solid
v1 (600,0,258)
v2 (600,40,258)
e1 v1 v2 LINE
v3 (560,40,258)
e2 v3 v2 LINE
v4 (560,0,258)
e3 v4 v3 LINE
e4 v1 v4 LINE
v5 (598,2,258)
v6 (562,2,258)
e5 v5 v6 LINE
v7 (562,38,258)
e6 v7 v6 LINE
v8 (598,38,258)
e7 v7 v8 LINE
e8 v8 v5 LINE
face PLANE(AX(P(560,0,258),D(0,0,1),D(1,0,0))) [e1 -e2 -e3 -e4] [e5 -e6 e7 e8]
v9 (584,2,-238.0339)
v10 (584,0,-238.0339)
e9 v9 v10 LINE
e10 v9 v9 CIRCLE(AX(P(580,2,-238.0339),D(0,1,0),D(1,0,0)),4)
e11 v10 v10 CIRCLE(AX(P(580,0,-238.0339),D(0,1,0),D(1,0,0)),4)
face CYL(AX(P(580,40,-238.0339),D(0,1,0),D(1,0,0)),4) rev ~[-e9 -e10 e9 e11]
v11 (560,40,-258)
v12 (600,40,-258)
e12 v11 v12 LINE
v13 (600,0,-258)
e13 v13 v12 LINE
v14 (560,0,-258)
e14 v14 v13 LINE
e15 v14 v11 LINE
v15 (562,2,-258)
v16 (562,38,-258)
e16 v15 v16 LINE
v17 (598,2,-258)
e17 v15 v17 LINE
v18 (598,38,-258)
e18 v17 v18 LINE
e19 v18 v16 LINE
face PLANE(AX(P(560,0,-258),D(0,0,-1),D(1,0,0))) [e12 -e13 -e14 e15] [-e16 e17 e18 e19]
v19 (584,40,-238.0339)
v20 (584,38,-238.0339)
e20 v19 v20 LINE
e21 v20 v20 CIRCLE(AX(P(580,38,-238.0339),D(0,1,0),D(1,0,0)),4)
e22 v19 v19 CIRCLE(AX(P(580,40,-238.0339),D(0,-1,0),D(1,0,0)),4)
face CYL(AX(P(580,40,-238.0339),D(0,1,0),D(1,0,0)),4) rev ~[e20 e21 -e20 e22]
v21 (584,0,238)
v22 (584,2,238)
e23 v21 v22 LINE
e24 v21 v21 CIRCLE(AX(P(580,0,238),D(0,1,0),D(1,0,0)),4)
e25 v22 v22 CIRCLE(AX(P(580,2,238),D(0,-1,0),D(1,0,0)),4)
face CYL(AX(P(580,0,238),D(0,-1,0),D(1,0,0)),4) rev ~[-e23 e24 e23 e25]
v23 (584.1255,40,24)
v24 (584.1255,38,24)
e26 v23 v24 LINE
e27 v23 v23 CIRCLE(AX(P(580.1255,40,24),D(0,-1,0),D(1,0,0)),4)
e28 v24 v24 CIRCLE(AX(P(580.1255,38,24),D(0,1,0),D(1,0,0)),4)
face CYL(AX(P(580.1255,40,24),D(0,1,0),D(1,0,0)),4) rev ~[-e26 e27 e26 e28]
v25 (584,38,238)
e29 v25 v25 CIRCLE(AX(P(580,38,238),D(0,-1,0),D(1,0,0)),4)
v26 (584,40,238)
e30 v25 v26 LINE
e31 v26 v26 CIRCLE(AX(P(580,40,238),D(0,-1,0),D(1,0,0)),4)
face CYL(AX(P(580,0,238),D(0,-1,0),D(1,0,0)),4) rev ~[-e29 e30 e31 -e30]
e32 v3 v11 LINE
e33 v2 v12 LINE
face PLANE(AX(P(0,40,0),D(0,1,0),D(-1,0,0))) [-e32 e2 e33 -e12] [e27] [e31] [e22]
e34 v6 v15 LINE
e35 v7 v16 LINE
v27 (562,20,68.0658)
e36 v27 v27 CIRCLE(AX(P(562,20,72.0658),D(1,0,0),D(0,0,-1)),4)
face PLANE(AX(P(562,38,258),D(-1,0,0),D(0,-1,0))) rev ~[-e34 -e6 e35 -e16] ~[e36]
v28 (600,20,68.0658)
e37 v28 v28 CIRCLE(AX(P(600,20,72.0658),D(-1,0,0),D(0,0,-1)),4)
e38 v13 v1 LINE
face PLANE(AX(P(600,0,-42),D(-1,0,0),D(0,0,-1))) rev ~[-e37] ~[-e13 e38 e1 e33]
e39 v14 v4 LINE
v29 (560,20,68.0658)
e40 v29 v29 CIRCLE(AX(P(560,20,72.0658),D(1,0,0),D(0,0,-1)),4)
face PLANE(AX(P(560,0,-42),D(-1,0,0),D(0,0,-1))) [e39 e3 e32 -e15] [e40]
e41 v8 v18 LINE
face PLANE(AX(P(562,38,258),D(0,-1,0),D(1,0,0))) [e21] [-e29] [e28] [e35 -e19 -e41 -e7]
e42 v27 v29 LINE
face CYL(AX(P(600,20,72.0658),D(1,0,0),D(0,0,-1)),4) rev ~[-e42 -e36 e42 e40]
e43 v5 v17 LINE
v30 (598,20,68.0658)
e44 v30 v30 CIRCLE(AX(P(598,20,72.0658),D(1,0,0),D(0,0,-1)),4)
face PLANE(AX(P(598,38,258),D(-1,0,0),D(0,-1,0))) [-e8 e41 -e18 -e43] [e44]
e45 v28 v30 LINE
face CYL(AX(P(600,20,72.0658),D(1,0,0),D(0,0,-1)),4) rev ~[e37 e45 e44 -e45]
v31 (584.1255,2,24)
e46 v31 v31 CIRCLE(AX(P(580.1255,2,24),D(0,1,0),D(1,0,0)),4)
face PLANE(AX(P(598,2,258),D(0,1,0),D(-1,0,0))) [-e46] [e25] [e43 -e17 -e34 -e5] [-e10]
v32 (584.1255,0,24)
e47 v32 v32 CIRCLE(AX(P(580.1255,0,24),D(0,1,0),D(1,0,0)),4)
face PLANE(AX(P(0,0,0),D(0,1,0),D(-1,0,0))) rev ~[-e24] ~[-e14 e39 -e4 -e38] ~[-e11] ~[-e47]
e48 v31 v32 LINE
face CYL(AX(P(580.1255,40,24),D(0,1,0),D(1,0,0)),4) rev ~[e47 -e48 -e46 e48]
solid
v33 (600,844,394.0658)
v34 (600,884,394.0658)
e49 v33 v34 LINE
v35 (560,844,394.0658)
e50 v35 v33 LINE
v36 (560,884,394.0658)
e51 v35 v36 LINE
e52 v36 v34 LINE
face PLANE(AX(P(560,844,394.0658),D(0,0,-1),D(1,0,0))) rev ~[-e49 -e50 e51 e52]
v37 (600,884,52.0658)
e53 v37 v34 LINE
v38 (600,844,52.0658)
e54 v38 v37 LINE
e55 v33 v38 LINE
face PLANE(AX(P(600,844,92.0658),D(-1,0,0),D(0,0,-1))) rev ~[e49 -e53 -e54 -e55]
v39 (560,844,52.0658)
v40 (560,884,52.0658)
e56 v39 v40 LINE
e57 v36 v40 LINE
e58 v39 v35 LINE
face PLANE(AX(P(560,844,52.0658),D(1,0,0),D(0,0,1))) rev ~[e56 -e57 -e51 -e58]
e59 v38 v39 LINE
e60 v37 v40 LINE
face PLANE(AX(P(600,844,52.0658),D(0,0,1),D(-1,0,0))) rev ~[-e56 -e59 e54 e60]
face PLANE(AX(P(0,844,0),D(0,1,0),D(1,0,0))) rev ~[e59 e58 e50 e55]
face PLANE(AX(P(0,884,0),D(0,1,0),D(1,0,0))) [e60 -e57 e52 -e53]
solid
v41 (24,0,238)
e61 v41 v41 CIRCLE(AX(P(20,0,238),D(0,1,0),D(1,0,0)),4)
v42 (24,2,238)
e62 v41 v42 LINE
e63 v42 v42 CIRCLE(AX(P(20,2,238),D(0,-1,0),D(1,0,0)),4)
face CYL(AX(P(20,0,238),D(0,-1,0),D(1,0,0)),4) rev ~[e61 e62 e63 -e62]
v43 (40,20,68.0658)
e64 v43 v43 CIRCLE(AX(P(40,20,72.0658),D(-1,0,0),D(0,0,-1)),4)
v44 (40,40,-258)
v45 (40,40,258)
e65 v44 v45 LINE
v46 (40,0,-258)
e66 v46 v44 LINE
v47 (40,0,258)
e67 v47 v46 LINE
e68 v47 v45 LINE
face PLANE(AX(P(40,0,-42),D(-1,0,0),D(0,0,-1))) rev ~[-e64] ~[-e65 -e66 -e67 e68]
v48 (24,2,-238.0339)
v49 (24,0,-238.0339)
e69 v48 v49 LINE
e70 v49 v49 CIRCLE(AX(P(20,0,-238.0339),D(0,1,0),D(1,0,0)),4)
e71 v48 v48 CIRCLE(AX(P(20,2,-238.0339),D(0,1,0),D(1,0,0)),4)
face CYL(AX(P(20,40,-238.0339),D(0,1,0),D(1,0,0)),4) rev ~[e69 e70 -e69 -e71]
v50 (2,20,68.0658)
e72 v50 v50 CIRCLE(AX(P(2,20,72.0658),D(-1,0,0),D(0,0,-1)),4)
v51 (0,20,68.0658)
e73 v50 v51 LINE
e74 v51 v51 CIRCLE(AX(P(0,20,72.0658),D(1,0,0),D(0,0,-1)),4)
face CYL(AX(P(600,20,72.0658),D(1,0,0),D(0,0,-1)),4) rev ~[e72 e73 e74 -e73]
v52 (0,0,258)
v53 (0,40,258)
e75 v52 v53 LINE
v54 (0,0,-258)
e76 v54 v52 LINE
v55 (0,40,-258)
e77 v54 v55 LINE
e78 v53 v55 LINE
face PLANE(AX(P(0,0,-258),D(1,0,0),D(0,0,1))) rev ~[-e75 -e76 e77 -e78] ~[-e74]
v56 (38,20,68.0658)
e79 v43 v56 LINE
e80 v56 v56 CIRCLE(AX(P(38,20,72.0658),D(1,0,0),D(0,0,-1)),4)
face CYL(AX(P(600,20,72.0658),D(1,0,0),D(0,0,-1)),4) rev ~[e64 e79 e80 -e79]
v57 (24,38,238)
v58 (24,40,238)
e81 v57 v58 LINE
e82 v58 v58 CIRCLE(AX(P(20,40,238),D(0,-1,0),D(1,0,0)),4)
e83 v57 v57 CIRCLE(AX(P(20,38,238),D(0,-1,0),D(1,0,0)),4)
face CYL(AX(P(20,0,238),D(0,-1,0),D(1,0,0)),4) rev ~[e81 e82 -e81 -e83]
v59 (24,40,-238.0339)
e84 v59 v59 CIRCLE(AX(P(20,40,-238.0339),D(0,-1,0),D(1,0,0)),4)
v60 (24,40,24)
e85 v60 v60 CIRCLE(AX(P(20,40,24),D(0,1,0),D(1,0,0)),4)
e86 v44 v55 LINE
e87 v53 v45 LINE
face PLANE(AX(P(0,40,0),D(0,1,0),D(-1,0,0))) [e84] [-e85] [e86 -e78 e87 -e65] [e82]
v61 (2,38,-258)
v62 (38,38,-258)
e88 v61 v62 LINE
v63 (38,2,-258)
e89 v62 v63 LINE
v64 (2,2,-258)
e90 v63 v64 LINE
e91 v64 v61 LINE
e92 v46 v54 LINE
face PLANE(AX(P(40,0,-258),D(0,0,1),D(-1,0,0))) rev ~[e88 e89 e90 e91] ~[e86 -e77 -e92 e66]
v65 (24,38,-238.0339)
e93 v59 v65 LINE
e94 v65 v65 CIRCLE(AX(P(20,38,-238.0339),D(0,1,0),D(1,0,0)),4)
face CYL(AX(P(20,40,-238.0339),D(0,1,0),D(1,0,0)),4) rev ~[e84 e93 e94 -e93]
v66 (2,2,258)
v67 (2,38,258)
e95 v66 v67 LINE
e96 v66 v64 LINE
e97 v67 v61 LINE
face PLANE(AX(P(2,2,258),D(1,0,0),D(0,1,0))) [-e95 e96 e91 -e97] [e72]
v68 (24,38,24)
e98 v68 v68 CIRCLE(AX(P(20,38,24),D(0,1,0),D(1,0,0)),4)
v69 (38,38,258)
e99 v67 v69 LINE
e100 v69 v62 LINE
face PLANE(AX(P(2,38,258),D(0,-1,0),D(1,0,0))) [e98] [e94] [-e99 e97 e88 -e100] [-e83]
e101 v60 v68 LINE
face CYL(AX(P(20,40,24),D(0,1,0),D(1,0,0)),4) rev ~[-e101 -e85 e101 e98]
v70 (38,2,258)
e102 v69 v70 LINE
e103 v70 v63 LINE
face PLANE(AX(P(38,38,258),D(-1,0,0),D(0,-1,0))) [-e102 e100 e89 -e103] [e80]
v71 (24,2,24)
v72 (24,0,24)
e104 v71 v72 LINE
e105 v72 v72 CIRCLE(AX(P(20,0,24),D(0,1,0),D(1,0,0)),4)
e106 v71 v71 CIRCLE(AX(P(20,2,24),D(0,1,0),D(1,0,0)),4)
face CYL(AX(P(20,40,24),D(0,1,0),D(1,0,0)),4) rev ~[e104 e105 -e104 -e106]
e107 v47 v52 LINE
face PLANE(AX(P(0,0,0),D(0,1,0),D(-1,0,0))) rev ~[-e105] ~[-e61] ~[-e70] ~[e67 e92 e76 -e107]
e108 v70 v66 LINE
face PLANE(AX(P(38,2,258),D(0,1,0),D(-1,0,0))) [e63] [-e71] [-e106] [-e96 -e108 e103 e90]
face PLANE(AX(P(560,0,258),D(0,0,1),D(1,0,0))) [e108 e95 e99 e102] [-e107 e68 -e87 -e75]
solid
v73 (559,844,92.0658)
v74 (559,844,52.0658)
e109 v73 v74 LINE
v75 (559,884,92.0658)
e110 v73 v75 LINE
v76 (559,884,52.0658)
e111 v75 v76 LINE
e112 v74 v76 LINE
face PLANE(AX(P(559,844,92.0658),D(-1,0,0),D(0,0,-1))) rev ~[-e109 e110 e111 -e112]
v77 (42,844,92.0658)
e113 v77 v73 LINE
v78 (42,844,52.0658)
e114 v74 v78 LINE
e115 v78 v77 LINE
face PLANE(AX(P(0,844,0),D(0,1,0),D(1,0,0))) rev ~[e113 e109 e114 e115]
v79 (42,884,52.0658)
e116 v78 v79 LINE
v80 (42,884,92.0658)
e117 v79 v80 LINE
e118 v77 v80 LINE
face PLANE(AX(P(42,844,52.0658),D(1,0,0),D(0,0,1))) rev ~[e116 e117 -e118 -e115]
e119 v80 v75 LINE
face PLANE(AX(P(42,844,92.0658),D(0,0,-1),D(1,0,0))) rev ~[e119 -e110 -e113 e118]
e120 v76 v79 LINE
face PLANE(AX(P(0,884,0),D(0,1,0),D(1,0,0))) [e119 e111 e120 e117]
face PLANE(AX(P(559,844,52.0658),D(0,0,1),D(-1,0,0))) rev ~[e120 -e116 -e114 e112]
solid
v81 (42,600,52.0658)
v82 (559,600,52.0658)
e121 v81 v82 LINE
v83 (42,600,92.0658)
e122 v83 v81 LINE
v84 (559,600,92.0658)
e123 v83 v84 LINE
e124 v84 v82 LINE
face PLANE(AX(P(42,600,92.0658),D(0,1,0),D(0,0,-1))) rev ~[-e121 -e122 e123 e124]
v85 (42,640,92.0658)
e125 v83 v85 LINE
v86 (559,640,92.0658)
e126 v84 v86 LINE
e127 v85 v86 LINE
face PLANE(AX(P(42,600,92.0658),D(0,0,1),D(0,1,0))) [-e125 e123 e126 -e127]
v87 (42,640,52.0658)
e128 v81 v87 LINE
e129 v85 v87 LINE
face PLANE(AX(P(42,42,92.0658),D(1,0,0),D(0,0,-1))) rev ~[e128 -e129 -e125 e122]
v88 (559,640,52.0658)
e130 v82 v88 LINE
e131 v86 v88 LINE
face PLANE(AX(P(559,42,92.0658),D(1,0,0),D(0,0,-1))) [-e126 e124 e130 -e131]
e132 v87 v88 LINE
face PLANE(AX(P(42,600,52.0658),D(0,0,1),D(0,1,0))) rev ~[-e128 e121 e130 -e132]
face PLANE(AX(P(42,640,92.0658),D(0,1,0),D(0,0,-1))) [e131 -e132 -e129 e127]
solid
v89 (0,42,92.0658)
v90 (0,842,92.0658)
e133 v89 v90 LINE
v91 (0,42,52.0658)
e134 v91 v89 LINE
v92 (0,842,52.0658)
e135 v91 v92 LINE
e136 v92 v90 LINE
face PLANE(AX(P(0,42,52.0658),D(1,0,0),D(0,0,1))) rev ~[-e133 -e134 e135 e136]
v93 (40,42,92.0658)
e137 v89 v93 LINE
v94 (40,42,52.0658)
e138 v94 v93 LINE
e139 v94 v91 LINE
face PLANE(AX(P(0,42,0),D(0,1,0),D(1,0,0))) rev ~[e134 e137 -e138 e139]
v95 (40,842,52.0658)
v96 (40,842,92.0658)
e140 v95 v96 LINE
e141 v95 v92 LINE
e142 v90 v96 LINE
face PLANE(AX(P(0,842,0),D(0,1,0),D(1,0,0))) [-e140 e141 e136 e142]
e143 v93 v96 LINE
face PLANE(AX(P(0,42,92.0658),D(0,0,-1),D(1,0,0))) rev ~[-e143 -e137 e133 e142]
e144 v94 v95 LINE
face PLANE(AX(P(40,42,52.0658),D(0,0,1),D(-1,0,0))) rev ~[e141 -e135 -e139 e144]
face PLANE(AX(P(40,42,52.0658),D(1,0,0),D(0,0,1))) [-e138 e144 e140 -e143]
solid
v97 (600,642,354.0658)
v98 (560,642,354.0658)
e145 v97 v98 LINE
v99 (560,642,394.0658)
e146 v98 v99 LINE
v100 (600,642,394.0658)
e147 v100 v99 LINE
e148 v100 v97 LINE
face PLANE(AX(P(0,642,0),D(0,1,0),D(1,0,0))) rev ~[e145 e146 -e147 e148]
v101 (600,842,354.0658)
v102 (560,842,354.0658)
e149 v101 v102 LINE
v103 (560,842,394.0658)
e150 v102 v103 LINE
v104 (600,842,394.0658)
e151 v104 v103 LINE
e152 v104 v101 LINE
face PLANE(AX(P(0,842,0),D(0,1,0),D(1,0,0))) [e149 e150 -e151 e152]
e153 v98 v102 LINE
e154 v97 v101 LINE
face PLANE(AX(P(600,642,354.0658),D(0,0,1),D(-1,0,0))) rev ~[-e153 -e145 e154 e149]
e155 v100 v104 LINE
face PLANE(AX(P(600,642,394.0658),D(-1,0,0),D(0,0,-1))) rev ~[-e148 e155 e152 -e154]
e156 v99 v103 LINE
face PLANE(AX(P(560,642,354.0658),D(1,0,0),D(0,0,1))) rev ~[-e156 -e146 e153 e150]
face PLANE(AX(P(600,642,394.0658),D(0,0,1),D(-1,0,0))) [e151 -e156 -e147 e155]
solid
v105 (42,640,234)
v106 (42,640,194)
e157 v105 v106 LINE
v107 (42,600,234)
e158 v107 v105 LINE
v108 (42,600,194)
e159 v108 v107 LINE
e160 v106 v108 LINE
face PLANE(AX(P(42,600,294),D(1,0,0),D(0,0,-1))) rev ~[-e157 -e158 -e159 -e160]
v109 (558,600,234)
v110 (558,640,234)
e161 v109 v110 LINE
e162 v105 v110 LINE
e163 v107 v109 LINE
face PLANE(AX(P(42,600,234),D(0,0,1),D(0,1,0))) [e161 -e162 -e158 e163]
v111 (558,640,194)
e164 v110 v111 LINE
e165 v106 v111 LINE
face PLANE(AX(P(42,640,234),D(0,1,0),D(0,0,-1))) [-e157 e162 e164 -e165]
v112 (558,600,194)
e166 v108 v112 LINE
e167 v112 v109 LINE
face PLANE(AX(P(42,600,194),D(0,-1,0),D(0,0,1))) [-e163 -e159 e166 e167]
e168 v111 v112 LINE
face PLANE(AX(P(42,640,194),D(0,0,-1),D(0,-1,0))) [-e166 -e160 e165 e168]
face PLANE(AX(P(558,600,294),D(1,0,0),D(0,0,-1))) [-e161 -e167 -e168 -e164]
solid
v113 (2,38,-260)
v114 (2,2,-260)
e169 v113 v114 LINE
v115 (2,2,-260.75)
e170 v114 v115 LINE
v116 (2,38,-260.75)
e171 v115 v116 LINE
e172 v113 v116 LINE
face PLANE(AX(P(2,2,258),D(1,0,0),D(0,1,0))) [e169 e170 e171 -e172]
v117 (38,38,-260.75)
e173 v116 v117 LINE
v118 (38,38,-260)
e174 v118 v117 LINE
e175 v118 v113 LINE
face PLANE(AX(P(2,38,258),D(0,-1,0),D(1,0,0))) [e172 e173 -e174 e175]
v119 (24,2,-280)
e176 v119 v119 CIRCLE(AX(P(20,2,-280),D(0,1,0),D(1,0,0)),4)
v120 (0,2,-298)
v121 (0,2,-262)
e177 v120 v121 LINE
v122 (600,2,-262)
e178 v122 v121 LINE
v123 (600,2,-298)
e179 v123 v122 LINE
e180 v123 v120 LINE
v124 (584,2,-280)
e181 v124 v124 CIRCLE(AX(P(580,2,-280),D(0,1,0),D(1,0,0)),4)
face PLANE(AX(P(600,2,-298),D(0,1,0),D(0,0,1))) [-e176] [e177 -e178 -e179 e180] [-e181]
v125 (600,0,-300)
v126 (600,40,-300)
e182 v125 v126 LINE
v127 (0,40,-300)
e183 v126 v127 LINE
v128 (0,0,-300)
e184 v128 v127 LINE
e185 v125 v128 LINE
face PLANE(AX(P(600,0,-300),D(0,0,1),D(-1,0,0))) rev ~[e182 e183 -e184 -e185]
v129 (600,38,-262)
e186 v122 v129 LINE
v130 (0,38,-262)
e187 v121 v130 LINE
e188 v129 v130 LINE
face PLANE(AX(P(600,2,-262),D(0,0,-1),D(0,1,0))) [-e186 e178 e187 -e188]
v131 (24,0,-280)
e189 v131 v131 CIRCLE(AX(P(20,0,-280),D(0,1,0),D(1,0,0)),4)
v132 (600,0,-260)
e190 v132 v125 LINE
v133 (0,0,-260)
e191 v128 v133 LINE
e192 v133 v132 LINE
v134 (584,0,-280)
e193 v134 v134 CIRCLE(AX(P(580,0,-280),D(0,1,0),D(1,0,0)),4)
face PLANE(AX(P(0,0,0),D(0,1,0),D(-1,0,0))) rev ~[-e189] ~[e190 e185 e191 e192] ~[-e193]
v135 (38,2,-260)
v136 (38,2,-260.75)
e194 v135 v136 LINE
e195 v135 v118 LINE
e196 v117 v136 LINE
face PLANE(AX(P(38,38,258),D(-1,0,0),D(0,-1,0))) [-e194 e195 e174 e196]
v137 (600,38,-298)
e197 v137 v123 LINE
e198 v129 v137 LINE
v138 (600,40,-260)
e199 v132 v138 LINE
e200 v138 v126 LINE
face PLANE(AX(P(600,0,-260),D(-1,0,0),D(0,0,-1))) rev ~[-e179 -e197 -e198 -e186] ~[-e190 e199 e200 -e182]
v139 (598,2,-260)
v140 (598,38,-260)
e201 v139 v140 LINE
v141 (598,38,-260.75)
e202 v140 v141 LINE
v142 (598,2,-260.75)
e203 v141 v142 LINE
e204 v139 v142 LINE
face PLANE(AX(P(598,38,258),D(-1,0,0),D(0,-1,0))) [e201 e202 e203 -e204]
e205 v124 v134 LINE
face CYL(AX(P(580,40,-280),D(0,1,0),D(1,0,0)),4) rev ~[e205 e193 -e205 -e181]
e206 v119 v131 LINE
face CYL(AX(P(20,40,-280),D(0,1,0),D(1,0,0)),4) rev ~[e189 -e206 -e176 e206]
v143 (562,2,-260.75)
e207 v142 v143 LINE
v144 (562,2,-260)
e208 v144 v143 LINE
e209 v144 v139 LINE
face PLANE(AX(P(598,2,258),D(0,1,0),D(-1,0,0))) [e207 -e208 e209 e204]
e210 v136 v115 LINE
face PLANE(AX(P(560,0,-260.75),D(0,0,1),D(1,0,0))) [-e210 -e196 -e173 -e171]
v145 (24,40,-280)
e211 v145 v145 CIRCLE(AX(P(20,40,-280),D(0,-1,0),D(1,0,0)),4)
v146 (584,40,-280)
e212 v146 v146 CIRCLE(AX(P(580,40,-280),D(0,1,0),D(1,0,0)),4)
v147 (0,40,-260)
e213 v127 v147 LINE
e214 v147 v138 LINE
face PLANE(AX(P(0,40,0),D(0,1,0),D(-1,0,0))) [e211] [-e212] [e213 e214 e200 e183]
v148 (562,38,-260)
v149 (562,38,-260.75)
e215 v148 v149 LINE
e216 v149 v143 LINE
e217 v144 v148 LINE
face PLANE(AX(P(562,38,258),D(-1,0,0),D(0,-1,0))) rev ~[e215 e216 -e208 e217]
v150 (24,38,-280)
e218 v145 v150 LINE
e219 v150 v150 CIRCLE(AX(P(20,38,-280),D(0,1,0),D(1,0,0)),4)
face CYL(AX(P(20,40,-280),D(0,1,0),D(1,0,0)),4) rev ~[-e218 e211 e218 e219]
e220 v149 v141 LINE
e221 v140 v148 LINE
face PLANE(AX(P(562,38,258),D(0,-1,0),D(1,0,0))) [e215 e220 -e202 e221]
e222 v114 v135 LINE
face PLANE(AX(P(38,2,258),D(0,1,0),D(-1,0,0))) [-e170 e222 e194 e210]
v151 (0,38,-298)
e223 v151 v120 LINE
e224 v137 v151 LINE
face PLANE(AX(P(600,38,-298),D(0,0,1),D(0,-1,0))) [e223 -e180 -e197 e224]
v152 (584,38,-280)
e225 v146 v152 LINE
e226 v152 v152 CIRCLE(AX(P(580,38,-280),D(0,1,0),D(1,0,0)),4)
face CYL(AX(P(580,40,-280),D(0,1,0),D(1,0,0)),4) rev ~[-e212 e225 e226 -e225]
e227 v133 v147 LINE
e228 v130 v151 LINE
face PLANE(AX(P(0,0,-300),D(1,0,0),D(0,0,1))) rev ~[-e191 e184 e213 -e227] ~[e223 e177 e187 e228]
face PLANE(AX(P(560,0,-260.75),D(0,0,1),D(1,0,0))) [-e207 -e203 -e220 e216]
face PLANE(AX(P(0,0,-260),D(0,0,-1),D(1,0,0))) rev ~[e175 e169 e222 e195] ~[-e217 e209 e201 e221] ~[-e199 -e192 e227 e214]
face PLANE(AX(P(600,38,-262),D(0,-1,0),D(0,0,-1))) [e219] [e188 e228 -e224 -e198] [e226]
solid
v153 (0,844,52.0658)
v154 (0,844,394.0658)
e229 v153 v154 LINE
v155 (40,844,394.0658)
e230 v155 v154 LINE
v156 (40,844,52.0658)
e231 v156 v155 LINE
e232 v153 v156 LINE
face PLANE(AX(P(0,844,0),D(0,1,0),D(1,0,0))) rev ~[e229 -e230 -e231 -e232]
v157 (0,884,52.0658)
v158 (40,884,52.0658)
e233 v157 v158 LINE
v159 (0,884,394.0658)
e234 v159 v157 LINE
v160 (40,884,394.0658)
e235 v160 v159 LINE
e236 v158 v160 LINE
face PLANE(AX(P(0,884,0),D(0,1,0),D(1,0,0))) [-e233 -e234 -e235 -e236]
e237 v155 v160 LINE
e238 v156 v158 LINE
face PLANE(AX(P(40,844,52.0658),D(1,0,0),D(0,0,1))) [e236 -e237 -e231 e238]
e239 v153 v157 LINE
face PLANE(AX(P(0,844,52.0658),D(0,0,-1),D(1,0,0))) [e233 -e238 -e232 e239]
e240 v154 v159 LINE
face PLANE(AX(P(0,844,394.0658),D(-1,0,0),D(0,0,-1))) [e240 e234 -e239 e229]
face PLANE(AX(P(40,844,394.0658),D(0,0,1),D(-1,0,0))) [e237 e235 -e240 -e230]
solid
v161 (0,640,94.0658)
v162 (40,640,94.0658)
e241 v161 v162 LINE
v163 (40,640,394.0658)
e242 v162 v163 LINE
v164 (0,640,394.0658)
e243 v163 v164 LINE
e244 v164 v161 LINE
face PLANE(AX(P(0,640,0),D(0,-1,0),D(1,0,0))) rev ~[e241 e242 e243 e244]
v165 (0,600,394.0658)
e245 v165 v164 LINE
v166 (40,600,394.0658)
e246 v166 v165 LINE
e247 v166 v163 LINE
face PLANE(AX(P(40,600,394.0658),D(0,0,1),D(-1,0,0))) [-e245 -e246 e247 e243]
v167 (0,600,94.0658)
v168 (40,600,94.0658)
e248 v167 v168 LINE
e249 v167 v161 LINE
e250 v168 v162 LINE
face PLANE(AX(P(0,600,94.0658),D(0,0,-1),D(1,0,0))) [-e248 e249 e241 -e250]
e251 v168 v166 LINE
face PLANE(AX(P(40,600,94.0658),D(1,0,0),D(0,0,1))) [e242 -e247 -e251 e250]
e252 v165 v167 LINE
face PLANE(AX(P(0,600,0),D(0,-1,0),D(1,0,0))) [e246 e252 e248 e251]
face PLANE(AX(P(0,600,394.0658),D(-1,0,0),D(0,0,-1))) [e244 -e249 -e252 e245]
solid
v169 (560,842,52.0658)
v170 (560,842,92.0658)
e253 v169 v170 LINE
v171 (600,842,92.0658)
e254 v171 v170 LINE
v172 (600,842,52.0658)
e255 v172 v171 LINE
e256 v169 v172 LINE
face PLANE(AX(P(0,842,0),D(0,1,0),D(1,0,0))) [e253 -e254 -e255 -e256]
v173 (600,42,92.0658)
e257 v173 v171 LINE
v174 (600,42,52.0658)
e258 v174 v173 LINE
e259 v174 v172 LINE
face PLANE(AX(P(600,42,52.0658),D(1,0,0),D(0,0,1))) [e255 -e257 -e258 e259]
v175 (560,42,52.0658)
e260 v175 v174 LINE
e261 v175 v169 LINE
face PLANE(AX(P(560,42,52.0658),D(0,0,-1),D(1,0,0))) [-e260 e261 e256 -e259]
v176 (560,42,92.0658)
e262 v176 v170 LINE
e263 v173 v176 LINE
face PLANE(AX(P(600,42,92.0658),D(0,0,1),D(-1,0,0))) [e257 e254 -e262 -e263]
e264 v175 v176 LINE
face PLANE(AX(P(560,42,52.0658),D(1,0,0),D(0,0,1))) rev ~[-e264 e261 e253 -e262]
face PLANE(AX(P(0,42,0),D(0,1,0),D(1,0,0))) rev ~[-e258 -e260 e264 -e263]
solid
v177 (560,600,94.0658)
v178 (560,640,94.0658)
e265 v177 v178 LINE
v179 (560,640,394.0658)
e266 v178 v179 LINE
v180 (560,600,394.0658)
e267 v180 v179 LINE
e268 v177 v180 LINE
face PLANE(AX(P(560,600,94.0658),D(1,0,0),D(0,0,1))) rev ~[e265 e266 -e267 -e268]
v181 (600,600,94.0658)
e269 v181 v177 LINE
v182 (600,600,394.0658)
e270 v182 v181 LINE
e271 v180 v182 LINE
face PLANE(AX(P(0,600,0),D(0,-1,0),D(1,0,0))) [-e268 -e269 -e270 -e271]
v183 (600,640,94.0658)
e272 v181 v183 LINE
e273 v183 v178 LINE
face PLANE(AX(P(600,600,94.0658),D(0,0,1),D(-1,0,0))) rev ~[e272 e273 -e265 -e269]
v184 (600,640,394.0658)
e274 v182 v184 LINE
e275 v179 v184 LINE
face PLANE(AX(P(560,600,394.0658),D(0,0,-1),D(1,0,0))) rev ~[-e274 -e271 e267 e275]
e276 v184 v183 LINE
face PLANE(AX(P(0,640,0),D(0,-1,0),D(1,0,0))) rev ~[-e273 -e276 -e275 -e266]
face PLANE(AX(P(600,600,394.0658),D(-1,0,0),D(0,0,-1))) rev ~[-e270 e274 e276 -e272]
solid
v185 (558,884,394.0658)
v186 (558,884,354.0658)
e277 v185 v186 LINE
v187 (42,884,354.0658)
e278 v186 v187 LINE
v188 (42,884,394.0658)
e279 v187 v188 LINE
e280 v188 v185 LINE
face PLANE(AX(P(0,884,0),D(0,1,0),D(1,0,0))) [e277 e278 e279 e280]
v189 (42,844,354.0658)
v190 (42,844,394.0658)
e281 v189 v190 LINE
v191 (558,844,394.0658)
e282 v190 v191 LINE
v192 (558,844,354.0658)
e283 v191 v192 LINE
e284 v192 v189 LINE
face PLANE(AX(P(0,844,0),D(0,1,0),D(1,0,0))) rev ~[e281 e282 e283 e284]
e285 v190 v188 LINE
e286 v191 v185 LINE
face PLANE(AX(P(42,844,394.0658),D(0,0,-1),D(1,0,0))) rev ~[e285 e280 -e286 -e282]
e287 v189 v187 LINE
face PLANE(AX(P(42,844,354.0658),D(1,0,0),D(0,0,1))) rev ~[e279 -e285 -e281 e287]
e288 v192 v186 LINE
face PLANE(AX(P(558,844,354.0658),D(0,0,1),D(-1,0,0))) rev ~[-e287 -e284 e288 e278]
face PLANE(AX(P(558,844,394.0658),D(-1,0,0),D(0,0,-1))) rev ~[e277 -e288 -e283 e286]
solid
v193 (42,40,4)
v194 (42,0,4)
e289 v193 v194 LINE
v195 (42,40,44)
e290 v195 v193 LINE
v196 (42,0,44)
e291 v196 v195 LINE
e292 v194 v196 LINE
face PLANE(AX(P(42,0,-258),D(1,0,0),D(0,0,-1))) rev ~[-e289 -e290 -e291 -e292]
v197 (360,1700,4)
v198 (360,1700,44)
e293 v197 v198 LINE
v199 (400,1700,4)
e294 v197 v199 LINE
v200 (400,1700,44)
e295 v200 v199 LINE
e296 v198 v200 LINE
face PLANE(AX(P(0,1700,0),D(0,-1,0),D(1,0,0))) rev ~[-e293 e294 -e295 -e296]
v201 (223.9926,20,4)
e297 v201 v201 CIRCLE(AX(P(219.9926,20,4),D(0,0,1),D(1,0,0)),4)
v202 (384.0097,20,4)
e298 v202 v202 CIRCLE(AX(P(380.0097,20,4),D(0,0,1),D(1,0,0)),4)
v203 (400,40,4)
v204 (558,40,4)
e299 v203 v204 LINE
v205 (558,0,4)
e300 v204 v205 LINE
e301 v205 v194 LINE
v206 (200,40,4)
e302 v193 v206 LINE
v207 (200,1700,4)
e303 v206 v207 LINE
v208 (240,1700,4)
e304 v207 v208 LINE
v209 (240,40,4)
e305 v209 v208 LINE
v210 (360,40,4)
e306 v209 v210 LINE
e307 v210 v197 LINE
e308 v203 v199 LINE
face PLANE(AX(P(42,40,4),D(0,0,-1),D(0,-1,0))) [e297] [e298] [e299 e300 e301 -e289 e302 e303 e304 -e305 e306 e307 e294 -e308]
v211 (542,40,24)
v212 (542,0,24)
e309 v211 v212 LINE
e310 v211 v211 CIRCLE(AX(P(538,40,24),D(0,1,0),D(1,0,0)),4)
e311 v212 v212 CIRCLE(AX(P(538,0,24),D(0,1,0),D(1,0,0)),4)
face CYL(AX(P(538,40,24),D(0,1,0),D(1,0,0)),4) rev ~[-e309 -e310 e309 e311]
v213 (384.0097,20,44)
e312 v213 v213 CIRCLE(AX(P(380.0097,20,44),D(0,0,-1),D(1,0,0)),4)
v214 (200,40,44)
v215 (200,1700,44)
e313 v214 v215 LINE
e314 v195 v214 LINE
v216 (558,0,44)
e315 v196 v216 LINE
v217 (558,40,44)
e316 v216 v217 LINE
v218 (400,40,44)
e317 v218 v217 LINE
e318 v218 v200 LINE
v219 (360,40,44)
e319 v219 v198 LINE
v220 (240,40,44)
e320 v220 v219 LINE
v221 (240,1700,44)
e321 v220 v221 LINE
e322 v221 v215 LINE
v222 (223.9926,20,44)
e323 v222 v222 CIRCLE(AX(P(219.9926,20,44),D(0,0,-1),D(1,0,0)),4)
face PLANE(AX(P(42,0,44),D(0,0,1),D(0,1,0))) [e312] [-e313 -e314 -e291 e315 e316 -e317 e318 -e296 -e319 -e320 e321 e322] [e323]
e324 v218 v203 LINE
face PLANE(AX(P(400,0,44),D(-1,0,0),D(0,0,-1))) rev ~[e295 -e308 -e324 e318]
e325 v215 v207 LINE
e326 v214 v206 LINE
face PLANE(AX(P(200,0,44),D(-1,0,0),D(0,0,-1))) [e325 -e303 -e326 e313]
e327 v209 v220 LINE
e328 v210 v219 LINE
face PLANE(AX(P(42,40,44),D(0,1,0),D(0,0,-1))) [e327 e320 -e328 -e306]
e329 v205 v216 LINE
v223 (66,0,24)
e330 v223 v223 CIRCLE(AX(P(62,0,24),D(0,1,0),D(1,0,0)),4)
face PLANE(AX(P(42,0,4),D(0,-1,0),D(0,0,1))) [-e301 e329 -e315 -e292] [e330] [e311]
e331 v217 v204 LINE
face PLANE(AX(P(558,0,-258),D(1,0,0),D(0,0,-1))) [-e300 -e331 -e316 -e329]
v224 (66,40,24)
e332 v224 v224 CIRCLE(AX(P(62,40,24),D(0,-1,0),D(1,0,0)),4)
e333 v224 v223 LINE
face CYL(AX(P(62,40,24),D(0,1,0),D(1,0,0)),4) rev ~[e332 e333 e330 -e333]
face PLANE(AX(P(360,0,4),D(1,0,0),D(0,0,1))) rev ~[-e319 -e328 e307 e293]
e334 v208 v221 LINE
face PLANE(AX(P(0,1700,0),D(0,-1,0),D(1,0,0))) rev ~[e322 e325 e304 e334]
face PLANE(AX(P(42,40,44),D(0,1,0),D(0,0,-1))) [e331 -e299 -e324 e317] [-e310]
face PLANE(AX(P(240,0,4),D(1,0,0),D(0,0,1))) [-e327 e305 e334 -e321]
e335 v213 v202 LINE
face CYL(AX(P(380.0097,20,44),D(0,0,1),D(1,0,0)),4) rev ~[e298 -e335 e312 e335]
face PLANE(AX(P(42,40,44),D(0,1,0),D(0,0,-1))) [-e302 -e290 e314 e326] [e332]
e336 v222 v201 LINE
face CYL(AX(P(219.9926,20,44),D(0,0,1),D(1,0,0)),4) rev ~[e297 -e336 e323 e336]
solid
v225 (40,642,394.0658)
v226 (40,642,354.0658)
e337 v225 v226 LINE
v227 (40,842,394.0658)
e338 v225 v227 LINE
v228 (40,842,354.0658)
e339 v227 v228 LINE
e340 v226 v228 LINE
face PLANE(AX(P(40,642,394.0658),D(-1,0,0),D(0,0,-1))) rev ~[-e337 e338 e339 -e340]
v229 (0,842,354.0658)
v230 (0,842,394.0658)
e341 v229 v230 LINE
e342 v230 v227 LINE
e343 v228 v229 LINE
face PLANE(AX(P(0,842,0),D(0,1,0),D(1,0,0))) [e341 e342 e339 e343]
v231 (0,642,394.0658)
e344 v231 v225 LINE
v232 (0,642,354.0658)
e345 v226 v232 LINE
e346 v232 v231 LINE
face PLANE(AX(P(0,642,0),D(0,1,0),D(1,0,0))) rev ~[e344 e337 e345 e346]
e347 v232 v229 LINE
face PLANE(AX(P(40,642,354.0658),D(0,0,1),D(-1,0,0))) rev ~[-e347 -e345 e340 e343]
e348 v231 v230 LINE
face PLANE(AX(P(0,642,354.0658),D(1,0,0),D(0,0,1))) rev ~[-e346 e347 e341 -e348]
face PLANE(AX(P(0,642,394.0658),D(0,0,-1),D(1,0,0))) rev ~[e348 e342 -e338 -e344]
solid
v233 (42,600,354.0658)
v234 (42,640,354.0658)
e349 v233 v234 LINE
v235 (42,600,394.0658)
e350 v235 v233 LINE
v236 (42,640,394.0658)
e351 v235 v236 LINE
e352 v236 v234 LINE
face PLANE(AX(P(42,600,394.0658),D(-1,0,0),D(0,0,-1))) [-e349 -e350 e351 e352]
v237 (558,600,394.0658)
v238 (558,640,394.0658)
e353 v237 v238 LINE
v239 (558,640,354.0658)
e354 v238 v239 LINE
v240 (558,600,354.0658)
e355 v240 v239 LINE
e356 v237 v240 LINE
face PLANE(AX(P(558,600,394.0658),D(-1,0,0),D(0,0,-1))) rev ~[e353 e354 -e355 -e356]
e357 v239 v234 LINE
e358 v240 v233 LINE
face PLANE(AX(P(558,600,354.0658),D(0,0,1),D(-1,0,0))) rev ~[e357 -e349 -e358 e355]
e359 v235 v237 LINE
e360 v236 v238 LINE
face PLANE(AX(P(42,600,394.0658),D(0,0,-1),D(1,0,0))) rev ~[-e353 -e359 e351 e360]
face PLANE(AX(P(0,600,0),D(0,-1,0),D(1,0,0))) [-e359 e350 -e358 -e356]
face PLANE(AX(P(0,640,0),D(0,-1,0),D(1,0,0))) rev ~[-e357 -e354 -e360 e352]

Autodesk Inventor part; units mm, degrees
sketch "Эскиз1" plane through (0, 0, 0) normal (0, 1, 0) x (-1, 0, 0)
  line L0 (-600, 0) -> (-600, -300)
  line L1 (-600, -300) -> (0, -300)
  line L2 (0, -300) -> (0, -42)
  line L3 (-600, 0) -> (-600, -40)
  line L4 (0, -300) -> (0, -260)
  line L5 (0, -260) -> (-600, -260)
  line L6 (-600, -40) -> (-600, -42)
  line L7 (-600, -42) -> (-560, -42)
  line L8 (-560, -42) -> (-560, -208)
  line L9 (0, -42) -> (-40, -42)
  line L10 (-40, -42) -> (-40, -258)
  line L11 (-40, -258) -> (0, -258)
  line L12 (-560, -208) -> (-560, -258)
  line L13 (-560, -258) -> (-600, -258)
  point P0 (0, 0)
  point P1 (-600, -208)
  dimension "d0" = 600
  dimension "d1" = 300
  dimension "d3" = 40
  dimension "d4" = 2
  dimension "d5" = 40
  dimension "d7" = 40
  dimension "d69" = 216
ref_plane "РабПлоскость2" through (0, 860, 0) normal (0, 1, 0) x (1, 0, 0)
ref_plane "РабПлоскость6" through (0, 0, 0) normal (0, -1, 0) x (1, 0, 0)
sketch "Эскиз5" plane through (0, 0, 0) normal (0, -1, 0) x (1, 0, 0)
  line L0 (0, 0) -> (40, 0) projected
  line L1 (0, 0) -> (300, 0)
  line L2 (300, 0) -> (300, 2)
  line L3 (300, 2) -> (280, 2)
  line L4 (320, 2) -> (300, 2)
  line L5 (300, 2) -> (200, 2)
  line L6 (200, 2) -> (200, 4)
  line L7 (200, 4) -> (400, 4)
  line L8 (200, 4) -> (240, 4)
  line L9 (240, 4) -> (240, 44)
  line L10 (240, 44) -> (200, 44)
  line L11 (200, 44) -> (200, 4)
  line L12 (400, 4) -> (360, 4)
  line L13 (360, 4) -> (360, 44)
  line L14 (360, 44) -> (400, 44)
  line L15 (400, 44) -> (400, 4)
  dimension "d19" = 300
  dimension "d20" = 2
  dimension "d146" = 100
  dimension "d147" = 2
  dimension "d148" = 200
  dimension "d149" = 40
  dimension "d150" = 40
  dimension "d151" = 40
  dimension "d152" = 40
extrude "Выдавливание10" add sketch "Эскиз1" along normal blind 40
extrude "Выдавливание20" add sketch "Эскиз5" against normal blind 1700
ref_plane "РабПлоскость16" through (200, 900, 44) normal (0, 0, 1) x (1, 0, 0)
sketch "Эскиз19" plane through (200, 900, 44) normal (0, 0, 1) x (1, 0, 0)
  line L0 (0, -900) -> (0, 800) projected
  line L1 (0, 800) -> (200, 800)
  line L2 (200, 800) -> (200, 600)
  line L3 (200, 600) -> (0, 600)
  line L4 (0, 600) -> (0, 800)
  line L5 (100, 600) -> (100, 800)
  line L6 (100, 600) -> (100, 700)
  line L7 (100, 700) -> (100, 692.5)
  line L8 (100, 692.5) -> (100, 709.5)
  circle A0 centre (100, 709.5) radius 2
  circle A1 centre (100, 692.5) radius 2
  line L9 (40, 800) -> (0, 800) projected
  line L10 (20, 800) -> (20, 600)
  line L11 (160, 800) -> (200, 800) projected
  line L12 (180, 800) -> (180, 600)
  line L13 (180, 600) -> (180, 620)
  line L14 (180, 620) -> (20, 620)
  line L15 (40, 800) -> (20, 800)
  line L16 (20, 800) -> (20, 780)
  line L17 (20, 780) -> (40, 780)
  line L18 (40, 780) -> (40, 800)
  line L19 (40, 780) -> (200, 780)
  circle A2 centre (20, 780) radius 3
  circle A3 centre (20, 620) radius 3
  circle A4 centre (180, 780) radius 3
  circle A5 centre (180, 620) radius 3
  point P0 (-200, -900)
  dimension "d156" = 200
  dimension "d157" = 200
  dimension "d266" = 100
  dimension "d267" = 7.5
  dimension "d268" = 17
  dimension "d269" = 4
  dimension "d270" = 4
  dimension "d271" = 20
  dimension "d272" = 20
  dimension "d273" = 20
  dimension "d274" = 6
  dimension "d275" = 6
  dimension "d276" = 6
  dimension "d277" = 6
extrude "Выдавливание21" [suppressed]
sketch "Эскиз23" plane through (560, 0, -42) normal (0, 0, 1) x (1, 0, 0)
  line L0 (-520, 0) -> (-520, 40) projected
  line L1 (-520, 0) -> (-560, 0)
  line L2 (-560, 0) -> (-560, 40)
  line L3 (-560, 40) -> (-520, 40)
  line L4 (-520, 40) -> (-520, 0)
  line L5 (40, 0) -> (40, 40) projected
  line L6 (40, 0) -> (0, 0)
  line L7 (0, 0) -> (0, 40)
  line L8 (0, 40) -> (40, 40)
  line L9 (40, 40) -> (40, 0)
extrude "Выдавливание25" add sketch "Эскиз23" along normal blind 300
ref_plane "РабПлоскость12" through (42, 0, -258) normal (1, 0, 0) x (0, 0, -1)
sketch "Эскиз26" plane through (42, 0, -258) normal (1, 0, 0) x (0, 0, -1)
  line L0 (-302, 40) -> (-262, 40)
  line L1 (-262, 40) -> (-262, 0)
  line L2 (-262, 0) -> (-302, 0)
  line L3 (-302, 0) -> (-302, 40)
  line L4 (-262, 0) -> (0, 0)
  line L5 (0, 0) -> (0, 40) projected
  line L6 (0, 0) -> (0, 40)
  line L7 (-302, 0) -> (-302, 1700) projected
  point P0 (-258, 0)
  point P1 (-302, 1500)
  dimension "d189" = 40
  dimension "d302" = 262
extrude "Выдавливание26" add sketch "Эскиз26" along normal blind 516
ref_plane "РабПлоскость22" through (0, 600, 0) normal (0, -1, 0) x (1, 0, 0)
ref_plane "РабПлоскость15" through (0, 42, 0) normal (0, 1, 0) x (1, 0, 0)
sketch "Эскиз30" plane through (0, 42, 0) normal (0, 1, 0) x (1, 0, 0)
  line L0 (40, 258) -> (40, -258) projected
  line L1 (40, -52.0658) -> (0, -52.0658)
  line L2 (0, -52.0658) -> (0, -92.0658)
  line L3 (0, -92.0658) -> (40, -92.0658)
  line L4 (40, -92.0658) -> (40, -52.0658)
  line L5 (560, 258) -> (560, -258) projected
  line L6 (560, -52.0658) -> (600, -52.0658)
  line L7 (600, -52.0658) -> (600, -92.0658)
  line L8 (600, -92.0658) -> (560, -92.0658)
  line L9 (560, -92.0658) -> (560, -52.0658)
  point P0 (0, 0)
  dimension "d217" = 40
  dimension "d218" = 40
extrude "Выдавливание28" add sketch "Эскиз30" along normal blind 800
ref_plane "РабПлоскость18" through (0, 844, 0) normal (0, 1, 0) x (1, 0, 0)
ref_plane "РабПлоскость21" through (42, 600, 294) normal (1, 0, 0) x (0, 0, -1)
sketch "Эскиз40" plane through (42, 600, 294) normal (1, 0, 0) x (0, 0, -1)
  line L0 (200, 40) -> (200, 0)
  line L1 (60, 40) -> (100, 40)
  line L2 (100, 40) -> (100, 0)
  line L3 (100, 0) -> (60, 0)
  line L4 (60, 0) -> (60, 40)
  line L5 (100, 0) -> (200, 0)
  line L6 (201.9342, -558) -> (201.9342, 242) projected
  point P0 (294, -600)
  dimension "d297" = 40
  dimension "d298" = 40
  dimension "d326" = 100
extrude "Выдавливание36" add sketch "Эскиз40" along normal blind 516
sketch "Эскиз41" plane through (0, 600, 0) normal (0, -1, 0) x (1, 0, 0)
  line L0 (560, 92.0658) -> (600, 92.0658) projected
  line L1 (0, 92.0658) -> (40, 92.0658) projected
  line L2 (600, 92.0658) -> (600, 94.0658)
  line L3 (600, 94.0658) -> (560, 94.0658)
  line L4 (560, 94.0658) -> (560, 394.0658)
  line L5 (560, 394.0658) -> (600, 394.0658)
  line L6 (600, 394.0658) -> (600, 94.0658)
  line L7 (0, 92.0658) -> (40, 92.0658)
  line L8 (0, 92.0658) -> (0, 94.0658)
  line L9 (0, 94.0658) -> (40, 94.0658)
  line L10 (40, 94.0658) -> (40, 394.0658)
  line L11 (40, 394.0658) -> (0, 394.0658)
  line L12 (0, 394.0658) -> (0, 94.0658)
  line L13 (40, 394.0658) -> (42, 394.0658)
  line L14 (42, 394.0658) -> (42, 354.0658)
  line L15 (560, 394.0658) -> (558, 394.0658)
  line L16 (558, 394.0658) -> (558, 354.0658)
  line L17 (558, 354.0658) -> (42, 354.0658)
  line L18 (42, 394.0658) -> (558, 394.0658)
  point P0 (0, 0)
  point P1 (560, 294)
  dimension "d304" = 2
  dimension "d305" = 40
  dimension "d306" = 300
  dimension "d308" = 2
  dimension "d309" = 300
  dimension "d310" = 2
  dimension "d311" = 40
  dimension "d312" = 2
  dimension "d313" = 40
extrude "Выдавливание37" add sketch "Эскиз41" against normal blind 40
ref_plane "РабПлоскость23" through (0, 642, 0) normal (0, 1, 0) x (1, 0, 0)
sketch "Эскиз42" plane through (0, 642, 0) normal (0, 1, 0) x (1, 0, 0)
  line L0 (0, -394.0658) -> (40, -394.0658) projected
  line L1 (0, -394.0658) -> (40, -394.0658)
  line L2 (40, -394.0658) -> (40, -354.0658)
  line L3 (40, -354.0658) -> (0, -354.0658)
  line L4 (0, -354.0658) -> (0, -394.0658)
  line L5 (600, -394.0658) -> (560, -394.0658) projected
  line L6 (560, -394.0658) -> (600, -394.0658)
  line L7 (600, -394.0658) -> (600, -354.0658)
  line L8 (600, -354.0658) -> (560, -354.0658)
  line L9 (560, -354.0658) -> (560, -394.0658)
  point P0 (0, 0)
  dimension "d317" = 40
  dimension "d318" = 40
  dimension "d319" = 40
  dimension "d320" = 40
extrude "Выдавливание38" add sketch "Эскиз42" along normal blind 200
ref_plane "РабПлоскость24" through (42, 42, 92.0658) normal (1, 0, 0) x (0, 0, -1)
sketch "Эскиз43" plane through (42, 42, 92.0658) normal (1, 0, 0) x (0, 0, -1)
  line L0 (-302, 558) -> (-2, 558) projected
  line L1 (-2, 558) -> (40, 558)
  line L2 (40, 0) -> (40, 800) projected
  line L3 (-2, 558) -> (-2, 598) projected
  line L4 (-2, 598) -> (40, 598)
  line L5 (0, 0) -> (0, 800) projected
  line L6 (40, 598) -> (0, 598)
  line L7 (0, 598) -> (0, 558)
  line L8 (0, 558) -> (40, 558)
  line L9 (40, 558) -> (40, 598)
  point P0 (92.0658, -42)
extrude "Выдавливание39" add sketch "Эскиз43" along normal blind 517 contours L5 L4 L2 L1
ref_plane "РабПлоскость25" through (0, 844, 0) normal (0, 1, 0) x (1, 0, 0)
sketch "Эскиз44" plane through (0, 844, 0) normal (0, 1, 0) x (1, 0, 0)
  line L0 (0, -52.0658) -> (0, -92.0658) projected
  line L1 (0, -52.0658) -> (40, -52.0658)
  line L2 (40, -52.0658) -> (40, -394.0658)
  line L3 (40, -394.0658) -> (0, -394.0658)
  line L4 (0, -394.0658) -> (0, -52.0658)
  line L5 (42, -354.0658) -> (42, -394.0658) projected
  line L6 (42, -394.0658) -> (558, -394.0658)
  line L7 (558, -394.0658) -> (558, -354.0658)
  line L8 (558, -354.0658) -> (42, -354.0658)
  line L9 (42, -354.0658) -> (42, -394.0658)
  line L10 (560, -94.0658) -> (560, -394.0658) projected
  line L11 (600, -92.0658) -> (600, -52.0658) projected
  line L12 (560, -394.0658) -> (600, -394.0658)
  line L13 (600, -394.0658) -> (600, -52.0658)
  line L14 (600, -52.0658) -> (560, -52.0658)
  line L15 (560, -52.0658) -> (560, -394.0658)
  line L16 (559, -92.0658) -> (559, -52.0658) projected
  line L17 (559, -52.0658) -> (42, -52.0658)
  line L18 (42, -52.0658) -> (42, -92.0658)
  line L19 (42, -92.0658) -> (559, -92.0658)
  line L20 (559, -92.0658) -> (559, -52.0658)
  point P0 (0, 0)
  dimension "d346" = 40
  dimension "d347" = 342
extrude "Выдавливание40" add sketch "Эскиз44" along normal blind 40
sketch "Эскиз45" plane through (560, 0, 258) normal (0, 0, 1) x (1, 0, 0)
  line L0 (-520, 40) -> (-560, 40) projected
  line L1 (-560, 0) -> (-520, 0) projected
  line L2 (-520, 0) -> (-522, 0)
  line L3 (-522, 0) -> (-522, 2)
  line L4 (-560, 40) -> (-558, 40)
  line L5 (-558, 40) -> (-558, 38)
  line L6 (-558, 38) -> (-522, 38)
  line L7 (-522, 38) -> (-522, 2)
  line L8 (-522, 2) -> (-558, 2)
  line L9 (-558, 2) -> (-558, 38)
  line L10 (0, 0) -> (0, 40) projected
  line L11 (0, 40) -> (0, 38)
  line L12 (0, 38) -> (2, 38)
  line L13 (40, 0) -> (40, 2)
  line L14 (40, 0) -> (40, 40) projected
  line L15 (40, 2) -> (38, 2)
  line L16 (38, 2) -> (0, 2)
  line L17 (0, 2) -> (0, 38)
  line L18 (0, 38) -> (38, 38)
  line L19 (38, 38) -> (38, 2)
  line L20 (2, 38) -> (2, 2)
  point P0 (2, 38)
  point P1 (2, 38)
  dimension "d352" = 2
  dimension "d353" = 2
  dimension "d354" = 2
  dimension "d355" = 2
  dimension "d356" = 2
  dimension "d357" = 2
  dimension "d358" = 2
  dimension "d359" = 2
extrude "Выдавливание41" cut sketch "Эскиз45" against normal blind 518.75 contours L6 L7 L8 L9 | L20 L18 L19 L16
sketch "Эскиз46" plane through (600, 0, -260) normal (1, 0, 0) x (0, 0, -1)
  line L0 (0, 0) -> (0, 40) projected
  line L1 (0, 40) -> (2, 40)
  line L2 (2, 40) -> (2, 38)
  line L3 (2, 38) -> (0, 38)
  line L4 (0, 38) -> (0, 40)
  line L5 (2, 38) -> (38, 38)
  line L6 (38, 38) -> (38, 2)
  line L7 (38, 2) -> (2, 2)
  line L8 (2, 2) -> (2, 38)
  point P0 (-260, 0)
  dimension "d362" = 2
  dimension "d363" = 2
  dimension "d364" = 36
  dimension "d365" = 36
extrude "Выдавливание42" cut sketch "Эскиз46" against normal blind 929.5 contours L5 L6 L7 L8
sketch "Эскиз47" plane through (600, 42, 92.0658) normal (1, 0, 0) x (0, 0, -1)
  line L0 (0, 0) -> (0, 800) projected
  line L1 (0, 0) -> (20, 0)
  line L2 (40, 0) -> (0, 0) projected
  line L3 (350.0658, -2) -> (-165.9342, -2) projected
  line L4 (20, -2) -> (20, -22)
  circle A0 centre (20, -22) radius 4
  point P0 (92.0658, -42)
  dimension "d370" = 20
  dimension "d372" = 8
extrude "Выдавливание43" cut sketch "Эскиз47" against normal blind 1100.75
sketch "Эскиз48" plane through (42, 0, 44) normal (0, 0, 1) x (1, 0, 0)
  line L0 (-42, 40) -> (558, 40) projected
  line L1 (197.9926, 40) -> (177.9926, 40)
  line L2 (177.9926, 40) -> (177.9926, 20)
  line L3 (318.0097, 40) -> (338.0097, 40)
  line L4 (338.0097, 40) -> (338.0097, 20)
  circle A0 centre (177.9926, 20) radius 4
  circle A1 centre (338.0097, 20) radius 4
  point P0 (-42, 0)
  dimension "d375" = 20
  dimension "d376" = 20
  dimension "d377" = 20
  dimension "d378" = 20
  dimension "d379" = 8
  dimension "d380" = 8
extrude "Выдавливание44" cut sketch "Эскиз48" against normal up to surface (40 mm away)
sketch "Эскиз49" plane through (0, 40, 0) normal (0, 1, 0) x (1, 0, 0)
  line L0 (600, 300) -> (0, 300) projected
  line L1 (0, 300) -> (0, 280)
  line L2 (0, 298) -> (0, 262) projected
  line L3 (0, 280) -> (20, 280)
  line L4 (0, 258.0339) -> (0, 238.0339)
  line L5 (0, 258) -> (0, -258) projected
  line L6 (0, 238.0339) -> (20, 238.0339)
  line L7 (42, -4) -> (200, -4) projected
  line L8 (42, -4) -> (42, -24)
  line L9 (42, -4) -> (42, -44) projected
  line L10 (42, -24) -> (40, -24)
  line L11 (40, 258) -> (40, -258) projected
  line L12 (40, -24) -> (20, -24)
  line L13 (560.1255, -24) -> (580.1255, -24)
  line L14 (600, 260) -> (600, 300) projected
  line L15 (600, 260) -> (600, 280)
  line L16 (600, 280) -> (580, 280)
  line L17 (600, 258) -> (560, 258) projected
  line L18 (600, 258) -> (600, 238)
  line L19 (600, 258) -> (600, -258) projected
  line L20 (600, 238) -> (580, 238.0339)
  circle A0 centre (580, 280) radius 4
  circle A1 centre (580, 238.0339) radius 4
  circle A2 centre (580.1255, -24) radius 4
  line L21 (558, -4) -> (558, -44) projected
  line L22 (558, -24) -> (538, -24)
  circle A3 centre (538, -24) radius 4
  line L23 (42, -24) -> (62, -24)
  circle A4 centre (20, -24) radius 4
  circle A5 centre (62, -24) radius 4
  circle A6 centre (20, 238.0339) radius 4
  circle A7 centre (20, 280) radius 4
  point P0 (0, 0)
  dimension "d383" = 20
  dimension "d384" = 20
  dimension "d385" = 20
  dimension "d386" = 20
  dimension "d387" = 20
  dimension "d388" = 20
  dimension "d389" = 20
  dimension "d390" = 20
  dimension "d391" = 20
  dimension "d392" = 8
  dimension "d393" = 8
  dimension "d394" = 8
  dimension "d395" = 20
  dimension "d396" = 8
  dimension "d397" = 20
  dimension "d398" = 8
  dimension "d399" = 8
  dimension "d400" = 8
  dimension "d401" = 8
extrude "Выдавливание45" cut sketch "Эскиз49" against normal blind 76
sketch "Эскиз50" plane through (0, 0, 0) normal (0, -1, 0) x (1, 0, 0)
  line L0 (0, 258) -> (40, 258) projected
  line L1 (40, 258) -> (20, 258)
  line L2 (2, 258) -> (38, 258) projected
  line L3 (20, 258) -> (20, 238)
  line L4 (560, 258) -> (600, 258) projected
  line L5 (600, 258) -> (580, 258)
  line L6 (580, 258) -> (580, 238)
  circle A0 centre (580, 238) radius 4
  circle A1 centre (20, 238) radius 4
  point P0 (0, 0)
  dimension "d404" = 20
  dimension "d405" = 20
  dimension "d406" = 20
  dimension "d407" = 20
  dimension "d408" = 8
  dimension "d409" = 8
extrude "Выдавливание46" cut sketch "Эскиз50" against normal blind 110
properties part number "Новый каркас" material "Алюминий 6061"
